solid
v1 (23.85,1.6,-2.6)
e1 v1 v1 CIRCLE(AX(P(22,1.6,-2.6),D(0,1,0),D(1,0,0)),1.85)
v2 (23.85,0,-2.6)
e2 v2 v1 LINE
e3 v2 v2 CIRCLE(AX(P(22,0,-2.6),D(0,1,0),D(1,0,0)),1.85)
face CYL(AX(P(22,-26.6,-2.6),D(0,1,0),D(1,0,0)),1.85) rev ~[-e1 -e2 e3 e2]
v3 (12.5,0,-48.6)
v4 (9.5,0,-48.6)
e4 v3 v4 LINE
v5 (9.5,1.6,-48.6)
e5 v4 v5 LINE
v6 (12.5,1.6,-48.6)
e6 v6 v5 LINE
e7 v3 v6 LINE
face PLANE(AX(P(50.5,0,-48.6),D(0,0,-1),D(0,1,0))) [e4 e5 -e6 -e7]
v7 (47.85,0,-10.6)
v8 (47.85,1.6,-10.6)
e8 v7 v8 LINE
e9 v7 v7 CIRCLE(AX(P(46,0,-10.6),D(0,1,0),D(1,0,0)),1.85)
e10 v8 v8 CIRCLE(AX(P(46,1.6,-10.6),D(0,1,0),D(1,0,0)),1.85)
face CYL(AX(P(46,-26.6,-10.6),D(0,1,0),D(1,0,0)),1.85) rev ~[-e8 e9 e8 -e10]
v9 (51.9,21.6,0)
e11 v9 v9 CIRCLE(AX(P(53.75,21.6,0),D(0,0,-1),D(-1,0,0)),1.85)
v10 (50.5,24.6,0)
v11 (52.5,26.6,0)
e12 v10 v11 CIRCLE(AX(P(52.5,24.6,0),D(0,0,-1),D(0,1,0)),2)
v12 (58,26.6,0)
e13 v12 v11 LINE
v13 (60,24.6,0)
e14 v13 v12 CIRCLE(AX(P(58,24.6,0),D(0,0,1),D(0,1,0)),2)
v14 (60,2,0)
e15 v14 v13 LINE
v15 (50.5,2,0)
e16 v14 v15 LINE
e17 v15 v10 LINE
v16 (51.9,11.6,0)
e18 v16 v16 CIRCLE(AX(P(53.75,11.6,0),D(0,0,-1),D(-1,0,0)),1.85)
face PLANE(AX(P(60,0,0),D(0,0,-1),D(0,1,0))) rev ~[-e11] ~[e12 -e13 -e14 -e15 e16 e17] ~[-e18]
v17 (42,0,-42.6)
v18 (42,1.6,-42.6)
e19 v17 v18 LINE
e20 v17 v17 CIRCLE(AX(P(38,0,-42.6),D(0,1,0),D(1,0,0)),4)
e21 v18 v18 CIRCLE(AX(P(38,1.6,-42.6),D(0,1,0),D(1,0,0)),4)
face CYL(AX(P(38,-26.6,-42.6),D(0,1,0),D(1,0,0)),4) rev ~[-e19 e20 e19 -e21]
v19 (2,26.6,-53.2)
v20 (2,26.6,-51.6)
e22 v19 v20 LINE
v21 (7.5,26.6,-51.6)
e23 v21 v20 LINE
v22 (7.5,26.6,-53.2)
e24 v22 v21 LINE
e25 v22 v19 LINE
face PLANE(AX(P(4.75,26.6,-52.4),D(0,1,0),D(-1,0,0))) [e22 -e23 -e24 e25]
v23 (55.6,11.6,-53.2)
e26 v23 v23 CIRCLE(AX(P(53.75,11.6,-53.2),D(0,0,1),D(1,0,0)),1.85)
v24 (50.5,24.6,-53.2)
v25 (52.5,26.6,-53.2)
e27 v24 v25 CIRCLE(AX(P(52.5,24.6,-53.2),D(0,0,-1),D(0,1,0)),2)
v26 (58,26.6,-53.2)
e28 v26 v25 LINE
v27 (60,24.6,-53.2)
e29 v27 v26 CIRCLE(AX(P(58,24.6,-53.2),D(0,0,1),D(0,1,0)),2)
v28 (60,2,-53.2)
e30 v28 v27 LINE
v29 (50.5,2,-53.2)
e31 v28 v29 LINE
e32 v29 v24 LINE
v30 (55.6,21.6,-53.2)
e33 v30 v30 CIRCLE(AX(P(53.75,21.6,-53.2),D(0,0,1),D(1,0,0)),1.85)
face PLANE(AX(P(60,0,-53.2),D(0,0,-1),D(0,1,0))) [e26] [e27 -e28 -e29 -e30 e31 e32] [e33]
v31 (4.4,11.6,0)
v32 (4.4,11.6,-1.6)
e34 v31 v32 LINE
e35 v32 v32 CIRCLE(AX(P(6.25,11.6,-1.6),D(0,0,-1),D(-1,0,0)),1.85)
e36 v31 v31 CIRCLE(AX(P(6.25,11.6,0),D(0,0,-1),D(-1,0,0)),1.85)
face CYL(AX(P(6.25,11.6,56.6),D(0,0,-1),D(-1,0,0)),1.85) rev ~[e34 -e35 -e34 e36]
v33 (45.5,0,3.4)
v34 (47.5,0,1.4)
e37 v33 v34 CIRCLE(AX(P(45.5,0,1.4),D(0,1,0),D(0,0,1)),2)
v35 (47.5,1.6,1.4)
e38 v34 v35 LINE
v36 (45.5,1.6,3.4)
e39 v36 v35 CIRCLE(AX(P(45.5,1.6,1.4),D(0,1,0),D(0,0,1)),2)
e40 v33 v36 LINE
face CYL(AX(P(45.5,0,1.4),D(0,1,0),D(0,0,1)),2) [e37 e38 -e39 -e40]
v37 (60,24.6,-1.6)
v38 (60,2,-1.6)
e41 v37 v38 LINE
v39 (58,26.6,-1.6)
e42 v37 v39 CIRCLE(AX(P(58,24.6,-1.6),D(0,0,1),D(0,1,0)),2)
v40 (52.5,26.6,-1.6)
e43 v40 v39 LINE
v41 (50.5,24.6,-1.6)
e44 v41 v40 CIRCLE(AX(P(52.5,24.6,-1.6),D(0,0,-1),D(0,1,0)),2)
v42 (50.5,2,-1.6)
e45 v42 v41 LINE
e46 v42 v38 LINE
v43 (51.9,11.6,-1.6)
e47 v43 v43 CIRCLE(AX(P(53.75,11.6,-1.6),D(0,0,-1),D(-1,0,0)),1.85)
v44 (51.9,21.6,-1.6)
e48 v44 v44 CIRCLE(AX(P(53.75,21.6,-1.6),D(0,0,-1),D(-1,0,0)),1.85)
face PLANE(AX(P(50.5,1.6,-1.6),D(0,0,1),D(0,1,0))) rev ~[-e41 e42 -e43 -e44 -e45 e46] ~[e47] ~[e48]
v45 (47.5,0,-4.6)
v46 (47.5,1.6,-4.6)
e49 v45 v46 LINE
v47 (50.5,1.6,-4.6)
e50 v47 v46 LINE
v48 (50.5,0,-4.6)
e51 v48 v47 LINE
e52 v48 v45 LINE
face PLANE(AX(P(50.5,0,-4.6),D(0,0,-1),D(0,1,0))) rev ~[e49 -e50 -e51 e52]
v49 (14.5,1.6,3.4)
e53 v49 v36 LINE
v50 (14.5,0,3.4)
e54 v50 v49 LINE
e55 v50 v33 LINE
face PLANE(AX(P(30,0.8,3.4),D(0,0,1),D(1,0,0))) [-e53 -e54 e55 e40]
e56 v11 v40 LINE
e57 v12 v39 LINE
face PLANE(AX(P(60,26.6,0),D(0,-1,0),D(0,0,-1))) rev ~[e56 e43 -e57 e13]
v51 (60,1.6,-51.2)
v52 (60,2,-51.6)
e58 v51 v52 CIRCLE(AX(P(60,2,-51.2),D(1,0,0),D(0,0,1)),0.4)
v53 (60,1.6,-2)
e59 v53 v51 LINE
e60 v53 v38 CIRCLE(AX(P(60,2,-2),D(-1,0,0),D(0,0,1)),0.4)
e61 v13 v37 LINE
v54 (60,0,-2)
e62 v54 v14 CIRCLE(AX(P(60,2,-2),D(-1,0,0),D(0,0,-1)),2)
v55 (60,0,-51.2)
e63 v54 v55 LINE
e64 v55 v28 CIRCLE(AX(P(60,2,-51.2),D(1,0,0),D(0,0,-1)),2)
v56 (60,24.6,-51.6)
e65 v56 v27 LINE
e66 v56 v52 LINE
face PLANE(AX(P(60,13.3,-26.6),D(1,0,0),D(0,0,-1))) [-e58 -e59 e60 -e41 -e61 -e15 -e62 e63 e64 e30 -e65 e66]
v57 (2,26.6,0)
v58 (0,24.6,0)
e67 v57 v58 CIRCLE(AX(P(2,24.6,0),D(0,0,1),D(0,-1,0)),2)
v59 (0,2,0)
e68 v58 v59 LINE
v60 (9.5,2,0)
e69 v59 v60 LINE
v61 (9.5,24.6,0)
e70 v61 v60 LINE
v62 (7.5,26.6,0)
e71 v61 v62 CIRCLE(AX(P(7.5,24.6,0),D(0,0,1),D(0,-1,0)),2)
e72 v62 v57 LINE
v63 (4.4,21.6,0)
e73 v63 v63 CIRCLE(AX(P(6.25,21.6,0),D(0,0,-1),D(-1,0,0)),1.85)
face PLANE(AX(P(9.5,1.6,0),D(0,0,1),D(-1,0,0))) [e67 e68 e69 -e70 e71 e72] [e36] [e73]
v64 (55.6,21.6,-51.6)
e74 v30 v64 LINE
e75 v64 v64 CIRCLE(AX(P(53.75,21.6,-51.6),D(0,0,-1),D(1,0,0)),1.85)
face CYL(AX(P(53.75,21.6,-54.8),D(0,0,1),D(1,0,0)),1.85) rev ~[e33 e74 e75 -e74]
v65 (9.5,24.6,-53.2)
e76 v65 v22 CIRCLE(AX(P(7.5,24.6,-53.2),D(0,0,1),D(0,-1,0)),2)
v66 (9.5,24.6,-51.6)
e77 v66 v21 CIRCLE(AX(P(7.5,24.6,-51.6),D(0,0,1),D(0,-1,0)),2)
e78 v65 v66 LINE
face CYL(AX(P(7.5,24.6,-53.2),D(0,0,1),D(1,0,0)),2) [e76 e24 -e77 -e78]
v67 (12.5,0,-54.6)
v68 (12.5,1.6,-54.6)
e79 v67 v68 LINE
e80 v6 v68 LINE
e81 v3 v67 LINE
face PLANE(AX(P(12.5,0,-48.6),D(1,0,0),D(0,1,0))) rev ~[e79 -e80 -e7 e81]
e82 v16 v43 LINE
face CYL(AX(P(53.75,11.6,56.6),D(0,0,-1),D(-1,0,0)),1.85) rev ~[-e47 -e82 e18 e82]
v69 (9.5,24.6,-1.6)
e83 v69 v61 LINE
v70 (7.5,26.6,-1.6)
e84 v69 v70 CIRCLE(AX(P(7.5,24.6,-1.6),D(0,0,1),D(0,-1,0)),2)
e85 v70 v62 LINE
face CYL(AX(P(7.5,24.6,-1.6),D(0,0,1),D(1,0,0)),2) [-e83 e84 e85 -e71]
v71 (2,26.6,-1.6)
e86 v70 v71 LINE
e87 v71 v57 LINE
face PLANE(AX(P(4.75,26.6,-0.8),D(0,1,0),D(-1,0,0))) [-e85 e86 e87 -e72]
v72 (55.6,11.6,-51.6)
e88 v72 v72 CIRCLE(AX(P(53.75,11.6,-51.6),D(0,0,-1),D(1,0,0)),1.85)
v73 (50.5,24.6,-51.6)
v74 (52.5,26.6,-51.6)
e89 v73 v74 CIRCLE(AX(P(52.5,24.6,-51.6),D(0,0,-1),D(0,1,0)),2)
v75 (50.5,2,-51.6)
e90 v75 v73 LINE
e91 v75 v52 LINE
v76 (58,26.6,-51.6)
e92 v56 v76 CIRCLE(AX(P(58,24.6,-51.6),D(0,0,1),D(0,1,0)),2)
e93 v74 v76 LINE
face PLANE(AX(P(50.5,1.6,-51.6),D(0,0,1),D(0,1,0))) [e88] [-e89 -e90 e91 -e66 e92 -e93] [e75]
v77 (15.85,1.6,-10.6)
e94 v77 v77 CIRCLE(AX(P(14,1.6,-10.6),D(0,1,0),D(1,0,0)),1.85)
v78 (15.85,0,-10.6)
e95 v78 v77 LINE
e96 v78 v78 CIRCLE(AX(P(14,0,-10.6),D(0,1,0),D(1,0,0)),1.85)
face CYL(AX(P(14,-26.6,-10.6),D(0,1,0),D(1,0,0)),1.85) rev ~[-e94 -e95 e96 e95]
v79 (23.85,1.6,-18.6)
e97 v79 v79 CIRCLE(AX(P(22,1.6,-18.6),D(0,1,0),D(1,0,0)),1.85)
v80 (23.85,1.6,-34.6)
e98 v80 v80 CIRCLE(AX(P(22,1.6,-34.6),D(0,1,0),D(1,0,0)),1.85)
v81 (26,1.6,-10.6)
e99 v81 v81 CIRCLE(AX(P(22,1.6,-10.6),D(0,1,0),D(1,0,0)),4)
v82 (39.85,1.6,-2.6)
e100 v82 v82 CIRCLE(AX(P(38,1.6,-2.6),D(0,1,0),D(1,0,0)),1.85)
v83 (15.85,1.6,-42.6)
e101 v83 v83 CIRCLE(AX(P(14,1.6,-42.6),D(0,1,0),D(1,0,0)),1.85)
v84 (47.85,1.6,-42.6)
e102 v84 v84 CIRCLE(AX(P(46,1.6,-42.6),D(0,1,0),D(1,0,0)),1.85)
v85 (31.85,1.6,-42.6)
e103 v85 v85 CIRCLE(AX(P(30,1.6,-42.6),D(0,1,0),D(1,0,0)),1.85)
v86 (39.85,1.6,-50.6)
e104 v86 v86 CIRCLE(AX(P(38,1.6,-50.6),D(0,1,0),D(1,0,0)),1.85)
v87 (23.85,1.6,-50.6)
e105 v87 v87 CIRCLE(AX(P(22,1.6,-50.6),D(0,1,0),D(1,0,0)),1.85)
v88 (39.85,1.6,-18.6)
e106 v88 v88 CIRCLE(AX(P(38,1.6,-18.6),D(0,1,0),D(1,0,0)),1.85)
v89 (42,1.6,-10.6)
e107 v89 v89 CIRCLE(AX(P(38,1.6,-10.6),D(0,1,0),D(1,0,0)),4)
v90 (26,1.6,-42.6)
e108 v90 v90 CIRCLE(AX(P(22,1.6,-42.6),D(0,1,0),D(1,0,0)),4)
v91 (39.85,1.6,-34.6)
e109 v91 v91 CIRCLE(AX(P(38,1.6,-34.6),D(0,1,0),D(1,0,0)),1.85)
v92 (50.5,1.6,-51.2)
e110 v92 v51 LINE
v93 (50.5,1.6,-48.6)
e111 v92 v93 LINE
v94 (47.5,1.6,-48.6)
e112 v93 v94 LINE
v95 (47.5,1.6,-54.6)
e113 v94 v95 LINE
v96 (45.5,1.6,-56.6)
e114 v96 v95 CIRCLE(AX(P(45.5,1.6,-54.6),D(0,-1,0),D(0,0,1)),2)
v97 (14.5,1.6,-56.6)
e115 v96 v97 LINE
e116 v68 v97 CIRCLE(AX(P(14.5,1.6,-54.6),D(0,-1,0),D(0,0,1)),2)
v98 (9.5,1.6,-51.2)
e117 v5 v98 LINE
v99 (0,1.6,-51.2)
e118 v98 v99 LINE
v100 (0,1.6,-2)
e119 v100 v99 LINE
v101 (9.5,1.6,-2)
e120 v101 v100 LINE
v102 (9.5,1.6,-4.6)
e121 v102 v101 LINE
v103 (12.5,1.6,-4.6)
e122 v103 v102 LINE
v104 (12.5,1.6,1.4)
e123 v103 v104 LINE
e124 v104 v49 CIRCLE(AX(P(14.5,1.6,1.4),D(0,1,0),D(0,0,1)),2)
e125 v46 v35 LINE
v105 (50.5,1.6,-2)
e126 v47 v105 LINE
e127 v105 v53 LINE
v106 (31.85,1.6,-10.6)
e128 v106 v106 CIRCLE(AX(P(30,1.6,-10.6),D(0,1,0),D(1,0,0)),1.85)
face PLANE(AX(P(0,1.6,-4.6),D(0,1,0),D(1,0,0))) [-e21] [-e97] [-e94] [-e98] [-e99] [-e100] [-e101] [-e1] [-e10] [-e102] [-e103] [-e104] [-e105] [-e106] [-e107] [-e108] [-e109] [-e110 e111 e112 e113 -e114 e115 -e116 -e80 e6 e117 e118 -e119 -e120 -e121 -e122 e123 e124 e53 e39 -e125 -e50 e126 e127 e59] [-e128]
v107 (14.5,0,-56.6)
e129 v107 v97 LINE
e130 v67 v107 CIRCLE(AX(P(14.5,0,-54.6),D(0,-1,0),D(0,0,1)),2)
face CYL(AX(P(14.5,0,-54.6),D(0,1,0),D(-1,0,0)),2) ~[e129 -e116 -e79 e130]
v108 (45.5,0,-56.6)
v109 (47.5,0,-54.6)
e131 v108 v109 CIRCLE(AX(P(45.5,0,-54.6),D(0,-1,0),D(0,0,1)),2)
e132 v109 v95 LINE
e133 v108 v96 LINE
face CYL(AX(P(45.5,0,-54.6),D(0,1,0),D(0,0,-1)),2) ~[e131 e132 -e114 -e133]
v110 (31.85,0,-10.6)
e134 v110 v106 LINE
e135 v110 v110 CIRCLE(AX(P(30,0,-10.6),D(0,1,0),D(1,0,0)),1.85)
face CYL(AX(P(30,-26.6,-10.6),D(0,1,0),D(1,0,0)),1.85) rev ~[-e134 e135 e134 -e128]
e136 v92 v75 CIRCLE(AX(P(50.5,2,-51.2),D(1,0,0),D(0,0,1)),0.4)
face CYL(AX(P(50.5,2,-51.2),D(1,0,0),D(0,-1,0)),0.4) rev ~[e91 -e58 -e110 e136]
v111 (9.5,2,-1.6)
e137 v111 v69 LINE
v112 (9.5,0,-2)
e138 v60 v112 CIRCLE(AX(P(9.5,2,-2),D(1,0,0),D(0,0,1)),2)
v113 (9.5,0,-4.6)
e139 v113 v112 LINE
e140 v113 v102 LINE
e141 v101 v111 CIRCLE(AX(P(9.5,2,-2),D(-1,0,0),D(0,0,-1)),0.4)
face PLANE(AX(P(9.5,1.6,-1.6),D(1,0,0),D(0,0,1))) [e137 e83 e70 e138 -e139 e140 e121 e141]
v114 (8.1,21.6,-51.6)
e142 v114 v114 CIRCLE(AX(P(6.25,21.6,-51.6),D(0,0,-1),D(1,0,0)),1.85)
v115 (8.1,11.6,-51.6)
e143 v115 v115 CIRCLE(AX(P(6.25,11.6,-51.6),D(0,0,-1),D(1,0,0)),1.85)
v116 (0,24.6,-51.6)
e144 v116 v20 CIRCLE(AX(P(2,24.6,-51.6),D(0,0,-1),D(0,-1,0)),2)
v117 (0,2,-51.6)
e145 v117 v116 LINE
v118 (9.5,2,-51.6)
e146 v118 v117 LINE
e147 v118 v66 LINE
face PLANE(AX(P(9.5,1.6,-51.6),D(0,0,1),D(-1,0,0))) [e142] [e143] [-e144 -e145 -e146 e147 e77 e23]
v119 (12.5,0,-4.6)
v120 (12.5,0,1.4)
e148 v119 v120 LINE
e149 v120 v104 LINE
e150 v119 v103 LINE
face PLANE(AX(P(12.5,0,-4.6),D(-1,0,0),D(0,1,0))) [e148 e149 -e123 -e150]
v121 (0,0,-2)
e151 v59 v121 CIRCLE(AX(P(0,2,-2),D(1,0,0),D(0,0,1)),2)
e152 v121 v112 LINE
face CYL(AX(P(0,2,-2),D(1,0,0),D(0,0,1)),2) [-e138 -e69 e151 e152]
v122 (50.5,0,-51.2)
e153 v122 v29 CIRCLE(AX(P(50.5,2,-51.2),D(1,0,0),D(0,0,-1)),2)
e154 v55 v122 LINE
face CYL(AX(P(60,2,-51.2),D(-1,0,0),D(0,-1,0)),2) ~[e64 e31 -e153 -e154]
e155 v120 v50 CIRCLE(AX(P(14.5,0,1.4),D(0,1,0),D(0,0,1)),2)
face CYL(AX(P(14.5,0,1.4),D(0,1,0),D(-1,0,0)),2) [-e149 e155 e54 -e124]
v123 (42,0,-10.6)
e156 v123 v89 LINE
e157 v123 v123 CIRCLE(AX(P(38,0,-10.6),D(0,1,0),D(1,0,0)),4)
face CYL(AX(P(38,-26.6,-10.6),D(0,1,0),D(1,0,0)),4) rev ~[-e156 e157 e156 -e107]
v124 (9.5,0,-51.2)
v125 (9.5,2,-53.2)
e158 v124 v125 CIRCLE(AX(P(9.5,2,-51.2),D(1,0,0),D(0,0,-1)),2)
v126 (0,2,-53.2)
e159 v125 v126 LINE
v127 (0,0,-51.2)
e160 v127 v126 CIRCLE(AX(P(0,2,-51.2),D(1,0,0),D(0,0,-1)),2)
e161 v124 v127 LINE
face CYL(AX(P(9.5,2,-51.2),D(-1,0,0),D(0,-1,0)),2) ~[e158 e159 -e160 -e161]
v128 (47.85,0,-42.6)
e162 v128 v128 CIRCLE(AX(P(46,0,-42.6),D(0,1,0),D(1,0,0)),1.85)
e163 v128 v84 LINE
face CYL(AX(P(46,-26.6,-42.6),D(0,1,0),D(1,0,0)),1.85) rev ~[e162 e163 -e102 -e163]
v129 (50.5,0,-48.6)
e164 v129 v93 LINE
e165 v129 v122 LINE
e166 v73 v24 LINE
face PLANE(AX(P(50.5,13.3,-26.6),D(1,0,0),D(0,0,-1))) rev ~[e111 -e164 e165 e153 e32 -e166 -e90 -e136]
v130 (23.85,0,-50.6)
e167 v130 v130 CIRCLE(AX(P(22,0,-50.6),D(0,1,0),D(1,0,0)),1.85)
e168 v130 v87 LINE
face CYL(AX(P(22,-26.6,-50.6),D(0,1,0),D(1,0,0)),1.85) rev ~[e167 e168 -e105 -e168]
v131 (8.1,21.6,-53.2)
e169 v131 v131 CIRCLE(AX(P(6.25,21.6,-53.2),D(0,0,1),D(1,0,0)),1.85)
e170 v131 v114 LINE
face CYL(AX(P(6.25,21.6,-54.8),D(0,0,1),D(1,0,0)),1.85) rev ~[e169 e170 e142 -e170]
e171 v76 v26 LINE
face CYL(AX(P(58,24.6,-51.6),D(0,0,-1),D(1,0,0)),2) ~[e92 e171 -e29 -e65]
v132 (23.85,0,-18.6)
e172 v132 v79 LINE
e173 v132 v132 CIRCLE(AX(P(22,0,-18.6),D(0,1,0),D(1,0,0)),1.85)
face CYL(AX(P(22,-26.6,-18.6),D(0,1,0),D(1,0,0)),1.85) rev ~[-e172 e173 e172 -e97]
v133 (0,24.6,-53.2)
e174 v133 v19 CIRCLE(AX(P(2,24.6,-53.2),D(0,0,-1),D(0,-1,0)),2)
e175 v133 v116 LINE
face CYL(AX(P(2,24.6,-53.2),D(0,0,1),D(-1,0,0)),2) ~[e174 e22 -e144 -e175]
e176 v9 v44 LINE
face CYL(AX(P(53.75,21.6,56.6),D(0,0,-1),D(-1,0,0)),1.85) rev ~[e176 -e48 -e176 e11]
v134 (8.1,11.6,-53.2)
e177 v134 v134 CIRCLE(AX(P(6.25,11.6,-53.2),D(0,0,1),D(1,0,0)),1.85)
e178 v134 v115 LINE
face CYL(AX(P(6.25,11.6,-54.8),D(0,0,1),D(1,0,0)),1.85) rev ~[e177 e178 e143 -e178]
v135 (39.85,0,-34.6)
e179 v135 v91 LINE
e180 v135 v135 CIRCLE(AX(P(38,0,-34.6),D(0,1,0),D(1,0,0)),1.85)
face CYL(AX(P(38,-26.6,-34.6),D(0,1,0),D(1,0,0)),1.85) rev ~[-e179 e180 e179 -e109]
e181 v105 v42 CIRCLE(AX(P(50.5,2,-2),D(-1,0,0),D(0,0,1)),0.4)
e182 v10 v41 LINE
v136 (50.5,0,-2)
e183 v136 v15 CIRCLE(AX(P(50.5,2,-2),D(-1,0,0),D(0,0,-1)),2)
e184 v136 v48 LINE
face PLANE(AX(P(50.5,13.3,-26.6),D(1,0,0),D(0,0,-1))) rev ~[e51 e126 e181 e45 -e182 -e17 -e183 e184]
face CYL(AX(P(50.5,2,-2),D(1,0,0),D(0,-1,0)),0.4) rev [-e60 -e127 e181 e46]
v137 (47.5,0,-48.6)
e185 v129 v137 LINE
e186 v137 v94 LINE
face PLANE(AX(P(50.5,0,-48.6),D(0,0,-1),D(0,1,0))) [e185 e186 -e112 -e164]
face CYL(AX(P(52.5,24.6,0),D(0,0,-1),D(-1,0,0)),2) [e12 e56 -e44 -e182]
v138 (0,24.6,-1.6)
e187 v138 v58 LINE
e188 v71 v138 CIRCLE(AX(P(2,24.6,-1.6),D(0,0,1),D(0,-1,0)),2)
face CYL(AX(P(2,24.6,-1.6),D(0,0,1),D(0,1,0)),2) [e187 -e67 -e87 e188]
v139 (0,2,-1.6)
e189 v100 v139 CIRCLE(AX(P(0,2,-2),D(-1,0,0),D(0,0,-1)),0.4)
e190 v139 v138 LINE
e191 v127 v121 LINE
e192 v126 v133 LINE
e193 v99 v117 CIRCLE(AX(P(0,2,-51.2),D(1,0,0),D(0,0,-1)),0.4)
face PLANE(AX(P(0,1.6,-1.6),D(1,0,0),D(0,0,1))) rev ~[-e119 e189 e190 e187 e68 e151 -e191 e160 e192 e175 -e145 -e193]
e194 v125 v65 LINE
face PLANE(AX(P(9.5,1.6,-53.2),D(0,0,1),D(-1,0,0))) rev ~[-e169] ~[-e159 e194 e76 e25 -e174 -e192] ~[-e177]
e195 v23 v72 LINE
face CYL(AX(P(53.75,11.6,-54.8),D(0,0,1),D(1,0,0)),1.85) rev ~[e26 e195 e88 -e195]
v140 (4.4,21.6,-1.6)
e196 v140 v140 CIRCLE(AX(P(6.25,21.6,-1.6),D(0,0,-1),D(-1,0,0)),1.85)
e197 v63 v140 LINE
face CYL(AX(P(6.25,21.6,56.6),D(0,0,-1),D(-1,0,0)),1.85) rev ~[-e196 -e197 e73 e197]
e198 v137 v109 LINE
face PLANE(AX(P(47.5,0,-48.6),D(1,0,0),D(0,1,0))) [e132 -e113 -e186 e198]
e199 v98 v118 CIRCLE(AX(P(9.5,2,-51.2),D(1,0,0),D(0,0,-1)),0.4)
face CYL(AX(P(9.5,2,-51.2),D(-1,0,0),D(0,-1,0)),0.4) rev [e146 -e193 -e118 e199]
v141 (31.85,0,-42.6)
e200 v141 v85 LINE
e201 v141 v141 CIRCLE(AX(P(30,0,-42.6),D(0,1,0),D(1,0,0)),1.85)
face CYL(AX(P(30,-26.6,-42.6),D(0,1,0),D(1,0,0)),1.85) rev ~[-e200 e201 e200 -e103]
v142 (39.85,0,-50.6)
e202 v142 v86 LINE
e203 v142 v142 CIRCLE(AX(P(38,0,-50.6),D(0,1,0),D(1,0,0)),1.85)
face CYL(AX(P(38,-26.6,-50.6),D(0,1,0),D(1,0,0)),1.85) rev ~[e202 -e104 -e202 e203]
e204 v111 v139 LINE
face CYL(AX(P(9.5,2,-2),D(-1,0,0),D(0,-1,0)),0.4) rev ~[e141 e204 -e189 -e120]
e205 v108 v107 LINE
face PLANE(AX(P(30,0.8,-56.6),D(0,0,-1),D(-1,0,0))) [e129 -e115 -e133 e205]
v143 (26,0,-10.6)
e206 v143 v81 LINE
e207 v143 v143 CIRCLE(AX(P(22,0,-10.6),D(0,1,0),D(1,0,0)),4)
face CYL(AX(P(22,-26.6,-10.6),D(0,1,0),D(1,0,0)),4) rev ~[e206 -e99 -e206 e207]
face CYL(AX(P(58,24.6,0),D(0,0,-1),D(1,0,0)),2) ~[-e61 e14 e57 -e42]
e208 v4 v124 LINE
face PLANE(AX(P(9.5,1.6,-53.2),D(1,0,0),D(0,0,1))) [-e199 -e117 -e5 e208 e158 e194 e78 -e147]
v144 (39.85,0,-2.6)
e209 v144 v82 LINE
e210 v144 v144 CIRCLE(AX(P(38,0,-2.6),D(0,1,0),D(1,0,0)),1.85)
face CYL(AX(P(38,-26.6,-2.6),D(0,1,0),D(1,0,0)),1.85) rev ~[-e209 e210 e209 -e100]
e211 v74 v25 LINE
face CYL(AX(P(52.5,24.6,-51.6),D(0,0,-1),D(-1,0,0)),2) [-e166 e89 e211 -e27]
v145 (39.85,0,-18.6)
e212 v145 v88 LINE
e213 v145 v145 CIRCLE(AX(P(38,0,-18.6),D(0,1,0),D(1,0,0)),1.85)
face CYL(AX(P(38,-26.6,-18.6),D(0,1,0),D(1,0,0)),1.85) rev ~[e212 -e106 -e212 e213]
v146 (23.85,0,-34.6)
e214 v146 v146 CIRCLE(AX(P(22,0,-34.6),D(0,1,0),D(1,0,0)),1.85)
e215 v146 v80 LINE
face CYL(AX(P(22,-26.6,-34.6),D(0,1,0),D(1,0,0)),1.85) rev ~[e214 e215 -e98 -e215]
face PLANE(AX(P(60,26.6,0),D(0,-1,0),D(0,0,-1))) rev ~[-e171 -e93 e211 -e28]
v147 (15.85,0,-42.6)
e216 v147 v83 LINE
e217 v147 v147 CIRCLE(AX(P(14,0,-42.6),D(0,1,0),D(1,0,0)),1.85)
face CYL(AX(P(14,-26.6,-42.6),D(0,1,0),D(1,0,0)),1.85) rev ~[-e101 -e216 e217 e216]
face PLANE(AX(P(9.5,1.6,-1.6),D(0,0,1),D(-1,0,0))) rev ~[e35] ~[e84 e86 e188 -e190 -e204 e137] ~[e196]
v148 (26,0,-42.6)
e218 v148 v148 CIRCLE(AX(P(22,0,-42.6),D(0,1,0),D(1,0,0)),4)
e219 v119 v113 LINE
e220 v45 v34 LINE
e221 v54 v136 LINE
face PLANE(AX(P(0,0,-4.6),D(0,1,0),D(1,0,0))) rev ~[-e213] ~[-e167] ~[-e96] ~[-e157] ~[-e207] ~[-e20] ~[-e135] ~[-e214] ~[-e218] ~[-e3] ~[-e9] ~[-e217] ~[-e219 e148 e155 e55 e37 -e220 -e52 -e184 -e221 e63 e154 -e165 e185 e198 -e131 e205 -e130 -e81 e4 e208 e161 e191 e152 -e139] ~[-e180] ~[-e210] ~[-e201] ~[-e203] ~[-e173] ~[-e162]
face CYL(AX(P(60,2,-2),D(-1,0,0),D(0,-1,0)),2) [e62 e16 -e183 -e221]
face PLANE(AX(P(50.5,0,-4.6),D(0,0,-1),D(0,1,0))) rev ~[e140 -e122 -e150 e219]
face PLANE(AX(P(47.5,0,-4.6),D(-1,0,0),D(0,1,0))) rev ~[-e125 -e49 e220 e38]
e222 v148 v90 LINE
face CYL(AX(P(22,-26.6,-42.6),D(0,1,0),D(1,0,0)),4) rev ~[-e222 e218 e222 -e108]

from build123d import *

# Parameters (mm, degrees)
SKETCH1_W                      = 53.2
SKETCH1_H                      = 26.6
BOSS_EXTRUDE1_DEPTH            = 9.5
SKETCH2_W                      = 50
SKETCH2_H                      = 25
CUT_EXTRUDE1_DEPTH             = 10.5
SKETCH3_W                      = 44
SKETCH3_H                      = 1.6
BOSS_EXTRUDE2_DEPTH            = 50.5
SKETCH4_W                      = 9.5
SKETCH4_H                      = 1.6
BOSS_EXTRUDE3_DEPTH            = 4.6
SKETCH5_W                      = 9.5
SKETCH5_H                      = 1.6
BOSS_EXTRUDE4_DEPTH            = 25
SKETCH6_W                      = 9.5
SKETCH6_H                      = 1.6
BOSS_EXTRUDE5_DEPTH            = 4.6
SKETCH7_W                      = 9.5
SKETCH7_H                      = 1.6
BOSS_EXTRUDE6_DEPTH            = 25
SKETCH8_W                      = 35
SKETCH8_H                      = 1.6
BOSS_EXTRUDE7_DEPTH            = 8
SKETCH9_W                      = 35
SKETCH9_H                      = 1.6
BOSS_EXTRUDE8_DEPTH            = 8
F_8_0_8_DIAMETER_HOLE1_D       = 8
F_8_0_8_DIAMETER_HOLE1_DEPTH   = 26.6
F_3_7_3_7_DIAMETER_HOLE1_D     = 3.7
F_3_7_3_7_DIAMETER_HOLE1_DEPTH = 26.6
F_3_7_3_7_DIAMETER_HOLE2_D     = 3.7
F_3_7_3_7_DIAMETER_HOLE2_DEPTH = 1.6
F_3_7_3_7_DIAMETER_HOLE3_D     = 3.7
F_3_7_3_7_DIAMETER_HOLE3_DEPTH = 56.6
FILLET1_R                      = 0.4
FILLET2_R                      = 2


with BuildPart() as part:
    # Sketch1 → Boss-Extrude1 (new body)
    with BuildSketch(Plane(origin=(60, 0, 0), x_dir=(0, 0, -1), z_dir=(1, 0, 0))):
        with Locations((26.6, 13.3)):
            Rectangle(SKETCH1_W, SKETCH1_H)
    extrude(amount=-BOSS_EXTRUDE1_DEPTH)

    # Sketch2 → Cut-Extrude1 (cut, through all)
    with BuildSketch(Plane.ZY.offset(-50.5)):
        with Locations((-26.6, 14.1)):
            Rectangle(SKETCH2_W, SKETCH2_H)
    extrude(amount=-CUT_EXTRUDE1_DEPTH, mode=Mode.SUBTRACT)

    # Sketch3 → Boss-Extrude2 (add)
    with BuildSketch(Plane.ZY.offset(-50.5)):
        with Locations((-26.6, 0.8)):
            Rectangle(SKETCH3_W, SKETCH3_H)
    extrude(amount=BOSS_EXTRUDE2_DEPTH)

    # Sketch4 → Boss-Extrude3 (add)
    with BuildSketch(Plane(origin=(0, 0, -48.6), x_dir=(-1, 0, 0), z_dir=(0, 0, -1))):
        with Locations((-4.75, 0.8)):
            Rectangle(SKETCH4_W, SKETCH4_H)
    extrude(amount=BOSS_EXTRUDE3_DEPTH)

    # Sketch5 → Boss-Extrude4 (add)
    with BuildSketch(Plane(origin=(0, 1.6, 0), x_dir=(-1, 0, 0), z_dir=(0, 1, 0))):
        with Locations((-4.75, -52.4)):
            Rectangle(SKETCH5_W, SKETCH5_H)
    extrude(amount=BOSS_EXTRUDE4_DEPTH)

    # Sketch6 → Boss-Extrude5 (add)
    with BuildSketch(Plane.XY.offset(-4.6)):
        with Locations((4.75, 0.8)):
            Rectangle(SKETCH6_W, SKETCH6_H)
    extrude(amount=BOSS_EXTRUDE5_DEPTH)

    # Sketch7 → Boss-Extrude6 (add)
    with BuildSketch(Plane(origin=(0, 1.6, 0), x_dir=(-1, 0, 0), z_dir=(0, 1, 0))):
        with Locations((-4.75, -0.8)):
            Rectangle(SKETCH7_W, SKETCH7_H)
    extrude(amount=BOSS_EXTRUDE6_DEPTH)

    # Sketch8 → Boss-Extrude7 (add)
    with BuildSketch(Plane(origin=(0, 0, -48.6), x_dir=(-1, 0, 0), z_dir=(0, 0, -1))):
        with Locations((-30, 0.8)):
            Rectangle(SKETCH8_W, SKETCH8_H)
    extrude(amount=BOSS_EXTRUDE7_DEPTH)

    # Sketch9 → Boss-Extrude8 (add)
    with BuildSketch(Plane.XY.offset(-4.6)):
        with Locations((30, 0.8)):
            Rectangle(SKETCH9_W, SKETCH9_H)
    extrude(amount=BOSS_EXTRUDE8_DEPTH)

    # Ø8.0 (8) Diameter Hole1
    with Locations(Plane(origin=(0, 0, 0), x_dir=(-1, 0, 0), z_dir=(0, -1, 0))):
        with Locations((-22, 42.6), (-22, 10.6), (-38, 42.6), (-38, 10.6)):
            Hole(F_8_0_8_DIAMETER_HOLE1_D / 2, depth=F_8_0_8_DIAMETER_HOLE1_DEPTH)

    # Ø3.7 (3.7) Diameter Hole1
    with Locations(Plane(origin=(0, 0, 0), x_dir=(-1, 0, 0), z_dir=(0, -1, 0))):
        with Locations((-30, 42.6), (-22, 18.6), (-14, 10.6), (-22, 2.6), (-22, 50.6), (-14, 42.6), (-22, 34.6), (-38, 18.6), (-46, 10.6), (-38, 2.6), (-38, 50.6), (-46, 42.6), (-38, 34.6), (-30, 10.6)):
            Hole(F_3_7_3_7_DIAMETER_HOLE1_D / 2, depth=F_3_7_3_7_DIAMETER_HOLE1_DEPTH)

    # Ø3.7 (3.7) Diameter Hole2
    with Locations(Plane(origin=(0, 0, -53.2), x_dir=(-1, 0, 0), z_dir=(0, 0, -1))):
        with Locations((-53.75, 11.6), (-53.75, 21.6), (-6.25, 11.6), (-6.25, 21.6)):
            Hole(F_3_7_3_7_DIAMETER_HOLE2_D / 2, depth=F_3_7_3_7_DIAMETER_HOLE2_DEPTH)

    # Ø3.7 (3.7) Diameter Hole3
    with Locations(Plane.XY):
        with Locations((53.75, 11.6), (53.75, 21.6), (6.25, 11.6), (6.25, 21.6)):
            Hole(F_3_7_3_7_DIAMETER_HOLE3_D / 2, depth=F_3_7_3_7_DIAMETER_HOLE3_DEPTH)

    # Fillet1
    fillet1_edges = [part.edges().sort_by_distance(p)[0] for p in [
        (4.75, 1.6, -51.6),
        (55.25, 1.6, -1.6),
        (4.75, 1.6, -1.6),
        (55.25, 1.6, -51.6),
    ]]
    fillet(fillet1_edges, radius=FILLET1_R)

    # Fillet2
    fillet2_edges = [part.edges().sort_by_distance(p)[0] for p in [
        (4.75, 0, 0),
        (4.75, 0, -53.2),
        (55.25, 0, -53.2),
        (47.5, 0.8, 3.4),
        (60, 26.6, -0.8),
        (12.5, 0.8, -56.6),
        (50.5, 26.6, -52.4),
        (12.5, 0.8, 3.4),
        (60, 26.6, -52.4),
        (55.25, 0, 0),
        (0, 26.6, -52.4),
        (47.5, 0.8, -56.6),
        (9.5, 26.6, -52.4),
        (9.5, 26.6, -0.8),
        (0, 26.6, -0.8),
        (50.5, 26.6, -0.8),
    ]]
    fillet(fillet2_edges, radius=FILLET2_R)


solid = part.part
